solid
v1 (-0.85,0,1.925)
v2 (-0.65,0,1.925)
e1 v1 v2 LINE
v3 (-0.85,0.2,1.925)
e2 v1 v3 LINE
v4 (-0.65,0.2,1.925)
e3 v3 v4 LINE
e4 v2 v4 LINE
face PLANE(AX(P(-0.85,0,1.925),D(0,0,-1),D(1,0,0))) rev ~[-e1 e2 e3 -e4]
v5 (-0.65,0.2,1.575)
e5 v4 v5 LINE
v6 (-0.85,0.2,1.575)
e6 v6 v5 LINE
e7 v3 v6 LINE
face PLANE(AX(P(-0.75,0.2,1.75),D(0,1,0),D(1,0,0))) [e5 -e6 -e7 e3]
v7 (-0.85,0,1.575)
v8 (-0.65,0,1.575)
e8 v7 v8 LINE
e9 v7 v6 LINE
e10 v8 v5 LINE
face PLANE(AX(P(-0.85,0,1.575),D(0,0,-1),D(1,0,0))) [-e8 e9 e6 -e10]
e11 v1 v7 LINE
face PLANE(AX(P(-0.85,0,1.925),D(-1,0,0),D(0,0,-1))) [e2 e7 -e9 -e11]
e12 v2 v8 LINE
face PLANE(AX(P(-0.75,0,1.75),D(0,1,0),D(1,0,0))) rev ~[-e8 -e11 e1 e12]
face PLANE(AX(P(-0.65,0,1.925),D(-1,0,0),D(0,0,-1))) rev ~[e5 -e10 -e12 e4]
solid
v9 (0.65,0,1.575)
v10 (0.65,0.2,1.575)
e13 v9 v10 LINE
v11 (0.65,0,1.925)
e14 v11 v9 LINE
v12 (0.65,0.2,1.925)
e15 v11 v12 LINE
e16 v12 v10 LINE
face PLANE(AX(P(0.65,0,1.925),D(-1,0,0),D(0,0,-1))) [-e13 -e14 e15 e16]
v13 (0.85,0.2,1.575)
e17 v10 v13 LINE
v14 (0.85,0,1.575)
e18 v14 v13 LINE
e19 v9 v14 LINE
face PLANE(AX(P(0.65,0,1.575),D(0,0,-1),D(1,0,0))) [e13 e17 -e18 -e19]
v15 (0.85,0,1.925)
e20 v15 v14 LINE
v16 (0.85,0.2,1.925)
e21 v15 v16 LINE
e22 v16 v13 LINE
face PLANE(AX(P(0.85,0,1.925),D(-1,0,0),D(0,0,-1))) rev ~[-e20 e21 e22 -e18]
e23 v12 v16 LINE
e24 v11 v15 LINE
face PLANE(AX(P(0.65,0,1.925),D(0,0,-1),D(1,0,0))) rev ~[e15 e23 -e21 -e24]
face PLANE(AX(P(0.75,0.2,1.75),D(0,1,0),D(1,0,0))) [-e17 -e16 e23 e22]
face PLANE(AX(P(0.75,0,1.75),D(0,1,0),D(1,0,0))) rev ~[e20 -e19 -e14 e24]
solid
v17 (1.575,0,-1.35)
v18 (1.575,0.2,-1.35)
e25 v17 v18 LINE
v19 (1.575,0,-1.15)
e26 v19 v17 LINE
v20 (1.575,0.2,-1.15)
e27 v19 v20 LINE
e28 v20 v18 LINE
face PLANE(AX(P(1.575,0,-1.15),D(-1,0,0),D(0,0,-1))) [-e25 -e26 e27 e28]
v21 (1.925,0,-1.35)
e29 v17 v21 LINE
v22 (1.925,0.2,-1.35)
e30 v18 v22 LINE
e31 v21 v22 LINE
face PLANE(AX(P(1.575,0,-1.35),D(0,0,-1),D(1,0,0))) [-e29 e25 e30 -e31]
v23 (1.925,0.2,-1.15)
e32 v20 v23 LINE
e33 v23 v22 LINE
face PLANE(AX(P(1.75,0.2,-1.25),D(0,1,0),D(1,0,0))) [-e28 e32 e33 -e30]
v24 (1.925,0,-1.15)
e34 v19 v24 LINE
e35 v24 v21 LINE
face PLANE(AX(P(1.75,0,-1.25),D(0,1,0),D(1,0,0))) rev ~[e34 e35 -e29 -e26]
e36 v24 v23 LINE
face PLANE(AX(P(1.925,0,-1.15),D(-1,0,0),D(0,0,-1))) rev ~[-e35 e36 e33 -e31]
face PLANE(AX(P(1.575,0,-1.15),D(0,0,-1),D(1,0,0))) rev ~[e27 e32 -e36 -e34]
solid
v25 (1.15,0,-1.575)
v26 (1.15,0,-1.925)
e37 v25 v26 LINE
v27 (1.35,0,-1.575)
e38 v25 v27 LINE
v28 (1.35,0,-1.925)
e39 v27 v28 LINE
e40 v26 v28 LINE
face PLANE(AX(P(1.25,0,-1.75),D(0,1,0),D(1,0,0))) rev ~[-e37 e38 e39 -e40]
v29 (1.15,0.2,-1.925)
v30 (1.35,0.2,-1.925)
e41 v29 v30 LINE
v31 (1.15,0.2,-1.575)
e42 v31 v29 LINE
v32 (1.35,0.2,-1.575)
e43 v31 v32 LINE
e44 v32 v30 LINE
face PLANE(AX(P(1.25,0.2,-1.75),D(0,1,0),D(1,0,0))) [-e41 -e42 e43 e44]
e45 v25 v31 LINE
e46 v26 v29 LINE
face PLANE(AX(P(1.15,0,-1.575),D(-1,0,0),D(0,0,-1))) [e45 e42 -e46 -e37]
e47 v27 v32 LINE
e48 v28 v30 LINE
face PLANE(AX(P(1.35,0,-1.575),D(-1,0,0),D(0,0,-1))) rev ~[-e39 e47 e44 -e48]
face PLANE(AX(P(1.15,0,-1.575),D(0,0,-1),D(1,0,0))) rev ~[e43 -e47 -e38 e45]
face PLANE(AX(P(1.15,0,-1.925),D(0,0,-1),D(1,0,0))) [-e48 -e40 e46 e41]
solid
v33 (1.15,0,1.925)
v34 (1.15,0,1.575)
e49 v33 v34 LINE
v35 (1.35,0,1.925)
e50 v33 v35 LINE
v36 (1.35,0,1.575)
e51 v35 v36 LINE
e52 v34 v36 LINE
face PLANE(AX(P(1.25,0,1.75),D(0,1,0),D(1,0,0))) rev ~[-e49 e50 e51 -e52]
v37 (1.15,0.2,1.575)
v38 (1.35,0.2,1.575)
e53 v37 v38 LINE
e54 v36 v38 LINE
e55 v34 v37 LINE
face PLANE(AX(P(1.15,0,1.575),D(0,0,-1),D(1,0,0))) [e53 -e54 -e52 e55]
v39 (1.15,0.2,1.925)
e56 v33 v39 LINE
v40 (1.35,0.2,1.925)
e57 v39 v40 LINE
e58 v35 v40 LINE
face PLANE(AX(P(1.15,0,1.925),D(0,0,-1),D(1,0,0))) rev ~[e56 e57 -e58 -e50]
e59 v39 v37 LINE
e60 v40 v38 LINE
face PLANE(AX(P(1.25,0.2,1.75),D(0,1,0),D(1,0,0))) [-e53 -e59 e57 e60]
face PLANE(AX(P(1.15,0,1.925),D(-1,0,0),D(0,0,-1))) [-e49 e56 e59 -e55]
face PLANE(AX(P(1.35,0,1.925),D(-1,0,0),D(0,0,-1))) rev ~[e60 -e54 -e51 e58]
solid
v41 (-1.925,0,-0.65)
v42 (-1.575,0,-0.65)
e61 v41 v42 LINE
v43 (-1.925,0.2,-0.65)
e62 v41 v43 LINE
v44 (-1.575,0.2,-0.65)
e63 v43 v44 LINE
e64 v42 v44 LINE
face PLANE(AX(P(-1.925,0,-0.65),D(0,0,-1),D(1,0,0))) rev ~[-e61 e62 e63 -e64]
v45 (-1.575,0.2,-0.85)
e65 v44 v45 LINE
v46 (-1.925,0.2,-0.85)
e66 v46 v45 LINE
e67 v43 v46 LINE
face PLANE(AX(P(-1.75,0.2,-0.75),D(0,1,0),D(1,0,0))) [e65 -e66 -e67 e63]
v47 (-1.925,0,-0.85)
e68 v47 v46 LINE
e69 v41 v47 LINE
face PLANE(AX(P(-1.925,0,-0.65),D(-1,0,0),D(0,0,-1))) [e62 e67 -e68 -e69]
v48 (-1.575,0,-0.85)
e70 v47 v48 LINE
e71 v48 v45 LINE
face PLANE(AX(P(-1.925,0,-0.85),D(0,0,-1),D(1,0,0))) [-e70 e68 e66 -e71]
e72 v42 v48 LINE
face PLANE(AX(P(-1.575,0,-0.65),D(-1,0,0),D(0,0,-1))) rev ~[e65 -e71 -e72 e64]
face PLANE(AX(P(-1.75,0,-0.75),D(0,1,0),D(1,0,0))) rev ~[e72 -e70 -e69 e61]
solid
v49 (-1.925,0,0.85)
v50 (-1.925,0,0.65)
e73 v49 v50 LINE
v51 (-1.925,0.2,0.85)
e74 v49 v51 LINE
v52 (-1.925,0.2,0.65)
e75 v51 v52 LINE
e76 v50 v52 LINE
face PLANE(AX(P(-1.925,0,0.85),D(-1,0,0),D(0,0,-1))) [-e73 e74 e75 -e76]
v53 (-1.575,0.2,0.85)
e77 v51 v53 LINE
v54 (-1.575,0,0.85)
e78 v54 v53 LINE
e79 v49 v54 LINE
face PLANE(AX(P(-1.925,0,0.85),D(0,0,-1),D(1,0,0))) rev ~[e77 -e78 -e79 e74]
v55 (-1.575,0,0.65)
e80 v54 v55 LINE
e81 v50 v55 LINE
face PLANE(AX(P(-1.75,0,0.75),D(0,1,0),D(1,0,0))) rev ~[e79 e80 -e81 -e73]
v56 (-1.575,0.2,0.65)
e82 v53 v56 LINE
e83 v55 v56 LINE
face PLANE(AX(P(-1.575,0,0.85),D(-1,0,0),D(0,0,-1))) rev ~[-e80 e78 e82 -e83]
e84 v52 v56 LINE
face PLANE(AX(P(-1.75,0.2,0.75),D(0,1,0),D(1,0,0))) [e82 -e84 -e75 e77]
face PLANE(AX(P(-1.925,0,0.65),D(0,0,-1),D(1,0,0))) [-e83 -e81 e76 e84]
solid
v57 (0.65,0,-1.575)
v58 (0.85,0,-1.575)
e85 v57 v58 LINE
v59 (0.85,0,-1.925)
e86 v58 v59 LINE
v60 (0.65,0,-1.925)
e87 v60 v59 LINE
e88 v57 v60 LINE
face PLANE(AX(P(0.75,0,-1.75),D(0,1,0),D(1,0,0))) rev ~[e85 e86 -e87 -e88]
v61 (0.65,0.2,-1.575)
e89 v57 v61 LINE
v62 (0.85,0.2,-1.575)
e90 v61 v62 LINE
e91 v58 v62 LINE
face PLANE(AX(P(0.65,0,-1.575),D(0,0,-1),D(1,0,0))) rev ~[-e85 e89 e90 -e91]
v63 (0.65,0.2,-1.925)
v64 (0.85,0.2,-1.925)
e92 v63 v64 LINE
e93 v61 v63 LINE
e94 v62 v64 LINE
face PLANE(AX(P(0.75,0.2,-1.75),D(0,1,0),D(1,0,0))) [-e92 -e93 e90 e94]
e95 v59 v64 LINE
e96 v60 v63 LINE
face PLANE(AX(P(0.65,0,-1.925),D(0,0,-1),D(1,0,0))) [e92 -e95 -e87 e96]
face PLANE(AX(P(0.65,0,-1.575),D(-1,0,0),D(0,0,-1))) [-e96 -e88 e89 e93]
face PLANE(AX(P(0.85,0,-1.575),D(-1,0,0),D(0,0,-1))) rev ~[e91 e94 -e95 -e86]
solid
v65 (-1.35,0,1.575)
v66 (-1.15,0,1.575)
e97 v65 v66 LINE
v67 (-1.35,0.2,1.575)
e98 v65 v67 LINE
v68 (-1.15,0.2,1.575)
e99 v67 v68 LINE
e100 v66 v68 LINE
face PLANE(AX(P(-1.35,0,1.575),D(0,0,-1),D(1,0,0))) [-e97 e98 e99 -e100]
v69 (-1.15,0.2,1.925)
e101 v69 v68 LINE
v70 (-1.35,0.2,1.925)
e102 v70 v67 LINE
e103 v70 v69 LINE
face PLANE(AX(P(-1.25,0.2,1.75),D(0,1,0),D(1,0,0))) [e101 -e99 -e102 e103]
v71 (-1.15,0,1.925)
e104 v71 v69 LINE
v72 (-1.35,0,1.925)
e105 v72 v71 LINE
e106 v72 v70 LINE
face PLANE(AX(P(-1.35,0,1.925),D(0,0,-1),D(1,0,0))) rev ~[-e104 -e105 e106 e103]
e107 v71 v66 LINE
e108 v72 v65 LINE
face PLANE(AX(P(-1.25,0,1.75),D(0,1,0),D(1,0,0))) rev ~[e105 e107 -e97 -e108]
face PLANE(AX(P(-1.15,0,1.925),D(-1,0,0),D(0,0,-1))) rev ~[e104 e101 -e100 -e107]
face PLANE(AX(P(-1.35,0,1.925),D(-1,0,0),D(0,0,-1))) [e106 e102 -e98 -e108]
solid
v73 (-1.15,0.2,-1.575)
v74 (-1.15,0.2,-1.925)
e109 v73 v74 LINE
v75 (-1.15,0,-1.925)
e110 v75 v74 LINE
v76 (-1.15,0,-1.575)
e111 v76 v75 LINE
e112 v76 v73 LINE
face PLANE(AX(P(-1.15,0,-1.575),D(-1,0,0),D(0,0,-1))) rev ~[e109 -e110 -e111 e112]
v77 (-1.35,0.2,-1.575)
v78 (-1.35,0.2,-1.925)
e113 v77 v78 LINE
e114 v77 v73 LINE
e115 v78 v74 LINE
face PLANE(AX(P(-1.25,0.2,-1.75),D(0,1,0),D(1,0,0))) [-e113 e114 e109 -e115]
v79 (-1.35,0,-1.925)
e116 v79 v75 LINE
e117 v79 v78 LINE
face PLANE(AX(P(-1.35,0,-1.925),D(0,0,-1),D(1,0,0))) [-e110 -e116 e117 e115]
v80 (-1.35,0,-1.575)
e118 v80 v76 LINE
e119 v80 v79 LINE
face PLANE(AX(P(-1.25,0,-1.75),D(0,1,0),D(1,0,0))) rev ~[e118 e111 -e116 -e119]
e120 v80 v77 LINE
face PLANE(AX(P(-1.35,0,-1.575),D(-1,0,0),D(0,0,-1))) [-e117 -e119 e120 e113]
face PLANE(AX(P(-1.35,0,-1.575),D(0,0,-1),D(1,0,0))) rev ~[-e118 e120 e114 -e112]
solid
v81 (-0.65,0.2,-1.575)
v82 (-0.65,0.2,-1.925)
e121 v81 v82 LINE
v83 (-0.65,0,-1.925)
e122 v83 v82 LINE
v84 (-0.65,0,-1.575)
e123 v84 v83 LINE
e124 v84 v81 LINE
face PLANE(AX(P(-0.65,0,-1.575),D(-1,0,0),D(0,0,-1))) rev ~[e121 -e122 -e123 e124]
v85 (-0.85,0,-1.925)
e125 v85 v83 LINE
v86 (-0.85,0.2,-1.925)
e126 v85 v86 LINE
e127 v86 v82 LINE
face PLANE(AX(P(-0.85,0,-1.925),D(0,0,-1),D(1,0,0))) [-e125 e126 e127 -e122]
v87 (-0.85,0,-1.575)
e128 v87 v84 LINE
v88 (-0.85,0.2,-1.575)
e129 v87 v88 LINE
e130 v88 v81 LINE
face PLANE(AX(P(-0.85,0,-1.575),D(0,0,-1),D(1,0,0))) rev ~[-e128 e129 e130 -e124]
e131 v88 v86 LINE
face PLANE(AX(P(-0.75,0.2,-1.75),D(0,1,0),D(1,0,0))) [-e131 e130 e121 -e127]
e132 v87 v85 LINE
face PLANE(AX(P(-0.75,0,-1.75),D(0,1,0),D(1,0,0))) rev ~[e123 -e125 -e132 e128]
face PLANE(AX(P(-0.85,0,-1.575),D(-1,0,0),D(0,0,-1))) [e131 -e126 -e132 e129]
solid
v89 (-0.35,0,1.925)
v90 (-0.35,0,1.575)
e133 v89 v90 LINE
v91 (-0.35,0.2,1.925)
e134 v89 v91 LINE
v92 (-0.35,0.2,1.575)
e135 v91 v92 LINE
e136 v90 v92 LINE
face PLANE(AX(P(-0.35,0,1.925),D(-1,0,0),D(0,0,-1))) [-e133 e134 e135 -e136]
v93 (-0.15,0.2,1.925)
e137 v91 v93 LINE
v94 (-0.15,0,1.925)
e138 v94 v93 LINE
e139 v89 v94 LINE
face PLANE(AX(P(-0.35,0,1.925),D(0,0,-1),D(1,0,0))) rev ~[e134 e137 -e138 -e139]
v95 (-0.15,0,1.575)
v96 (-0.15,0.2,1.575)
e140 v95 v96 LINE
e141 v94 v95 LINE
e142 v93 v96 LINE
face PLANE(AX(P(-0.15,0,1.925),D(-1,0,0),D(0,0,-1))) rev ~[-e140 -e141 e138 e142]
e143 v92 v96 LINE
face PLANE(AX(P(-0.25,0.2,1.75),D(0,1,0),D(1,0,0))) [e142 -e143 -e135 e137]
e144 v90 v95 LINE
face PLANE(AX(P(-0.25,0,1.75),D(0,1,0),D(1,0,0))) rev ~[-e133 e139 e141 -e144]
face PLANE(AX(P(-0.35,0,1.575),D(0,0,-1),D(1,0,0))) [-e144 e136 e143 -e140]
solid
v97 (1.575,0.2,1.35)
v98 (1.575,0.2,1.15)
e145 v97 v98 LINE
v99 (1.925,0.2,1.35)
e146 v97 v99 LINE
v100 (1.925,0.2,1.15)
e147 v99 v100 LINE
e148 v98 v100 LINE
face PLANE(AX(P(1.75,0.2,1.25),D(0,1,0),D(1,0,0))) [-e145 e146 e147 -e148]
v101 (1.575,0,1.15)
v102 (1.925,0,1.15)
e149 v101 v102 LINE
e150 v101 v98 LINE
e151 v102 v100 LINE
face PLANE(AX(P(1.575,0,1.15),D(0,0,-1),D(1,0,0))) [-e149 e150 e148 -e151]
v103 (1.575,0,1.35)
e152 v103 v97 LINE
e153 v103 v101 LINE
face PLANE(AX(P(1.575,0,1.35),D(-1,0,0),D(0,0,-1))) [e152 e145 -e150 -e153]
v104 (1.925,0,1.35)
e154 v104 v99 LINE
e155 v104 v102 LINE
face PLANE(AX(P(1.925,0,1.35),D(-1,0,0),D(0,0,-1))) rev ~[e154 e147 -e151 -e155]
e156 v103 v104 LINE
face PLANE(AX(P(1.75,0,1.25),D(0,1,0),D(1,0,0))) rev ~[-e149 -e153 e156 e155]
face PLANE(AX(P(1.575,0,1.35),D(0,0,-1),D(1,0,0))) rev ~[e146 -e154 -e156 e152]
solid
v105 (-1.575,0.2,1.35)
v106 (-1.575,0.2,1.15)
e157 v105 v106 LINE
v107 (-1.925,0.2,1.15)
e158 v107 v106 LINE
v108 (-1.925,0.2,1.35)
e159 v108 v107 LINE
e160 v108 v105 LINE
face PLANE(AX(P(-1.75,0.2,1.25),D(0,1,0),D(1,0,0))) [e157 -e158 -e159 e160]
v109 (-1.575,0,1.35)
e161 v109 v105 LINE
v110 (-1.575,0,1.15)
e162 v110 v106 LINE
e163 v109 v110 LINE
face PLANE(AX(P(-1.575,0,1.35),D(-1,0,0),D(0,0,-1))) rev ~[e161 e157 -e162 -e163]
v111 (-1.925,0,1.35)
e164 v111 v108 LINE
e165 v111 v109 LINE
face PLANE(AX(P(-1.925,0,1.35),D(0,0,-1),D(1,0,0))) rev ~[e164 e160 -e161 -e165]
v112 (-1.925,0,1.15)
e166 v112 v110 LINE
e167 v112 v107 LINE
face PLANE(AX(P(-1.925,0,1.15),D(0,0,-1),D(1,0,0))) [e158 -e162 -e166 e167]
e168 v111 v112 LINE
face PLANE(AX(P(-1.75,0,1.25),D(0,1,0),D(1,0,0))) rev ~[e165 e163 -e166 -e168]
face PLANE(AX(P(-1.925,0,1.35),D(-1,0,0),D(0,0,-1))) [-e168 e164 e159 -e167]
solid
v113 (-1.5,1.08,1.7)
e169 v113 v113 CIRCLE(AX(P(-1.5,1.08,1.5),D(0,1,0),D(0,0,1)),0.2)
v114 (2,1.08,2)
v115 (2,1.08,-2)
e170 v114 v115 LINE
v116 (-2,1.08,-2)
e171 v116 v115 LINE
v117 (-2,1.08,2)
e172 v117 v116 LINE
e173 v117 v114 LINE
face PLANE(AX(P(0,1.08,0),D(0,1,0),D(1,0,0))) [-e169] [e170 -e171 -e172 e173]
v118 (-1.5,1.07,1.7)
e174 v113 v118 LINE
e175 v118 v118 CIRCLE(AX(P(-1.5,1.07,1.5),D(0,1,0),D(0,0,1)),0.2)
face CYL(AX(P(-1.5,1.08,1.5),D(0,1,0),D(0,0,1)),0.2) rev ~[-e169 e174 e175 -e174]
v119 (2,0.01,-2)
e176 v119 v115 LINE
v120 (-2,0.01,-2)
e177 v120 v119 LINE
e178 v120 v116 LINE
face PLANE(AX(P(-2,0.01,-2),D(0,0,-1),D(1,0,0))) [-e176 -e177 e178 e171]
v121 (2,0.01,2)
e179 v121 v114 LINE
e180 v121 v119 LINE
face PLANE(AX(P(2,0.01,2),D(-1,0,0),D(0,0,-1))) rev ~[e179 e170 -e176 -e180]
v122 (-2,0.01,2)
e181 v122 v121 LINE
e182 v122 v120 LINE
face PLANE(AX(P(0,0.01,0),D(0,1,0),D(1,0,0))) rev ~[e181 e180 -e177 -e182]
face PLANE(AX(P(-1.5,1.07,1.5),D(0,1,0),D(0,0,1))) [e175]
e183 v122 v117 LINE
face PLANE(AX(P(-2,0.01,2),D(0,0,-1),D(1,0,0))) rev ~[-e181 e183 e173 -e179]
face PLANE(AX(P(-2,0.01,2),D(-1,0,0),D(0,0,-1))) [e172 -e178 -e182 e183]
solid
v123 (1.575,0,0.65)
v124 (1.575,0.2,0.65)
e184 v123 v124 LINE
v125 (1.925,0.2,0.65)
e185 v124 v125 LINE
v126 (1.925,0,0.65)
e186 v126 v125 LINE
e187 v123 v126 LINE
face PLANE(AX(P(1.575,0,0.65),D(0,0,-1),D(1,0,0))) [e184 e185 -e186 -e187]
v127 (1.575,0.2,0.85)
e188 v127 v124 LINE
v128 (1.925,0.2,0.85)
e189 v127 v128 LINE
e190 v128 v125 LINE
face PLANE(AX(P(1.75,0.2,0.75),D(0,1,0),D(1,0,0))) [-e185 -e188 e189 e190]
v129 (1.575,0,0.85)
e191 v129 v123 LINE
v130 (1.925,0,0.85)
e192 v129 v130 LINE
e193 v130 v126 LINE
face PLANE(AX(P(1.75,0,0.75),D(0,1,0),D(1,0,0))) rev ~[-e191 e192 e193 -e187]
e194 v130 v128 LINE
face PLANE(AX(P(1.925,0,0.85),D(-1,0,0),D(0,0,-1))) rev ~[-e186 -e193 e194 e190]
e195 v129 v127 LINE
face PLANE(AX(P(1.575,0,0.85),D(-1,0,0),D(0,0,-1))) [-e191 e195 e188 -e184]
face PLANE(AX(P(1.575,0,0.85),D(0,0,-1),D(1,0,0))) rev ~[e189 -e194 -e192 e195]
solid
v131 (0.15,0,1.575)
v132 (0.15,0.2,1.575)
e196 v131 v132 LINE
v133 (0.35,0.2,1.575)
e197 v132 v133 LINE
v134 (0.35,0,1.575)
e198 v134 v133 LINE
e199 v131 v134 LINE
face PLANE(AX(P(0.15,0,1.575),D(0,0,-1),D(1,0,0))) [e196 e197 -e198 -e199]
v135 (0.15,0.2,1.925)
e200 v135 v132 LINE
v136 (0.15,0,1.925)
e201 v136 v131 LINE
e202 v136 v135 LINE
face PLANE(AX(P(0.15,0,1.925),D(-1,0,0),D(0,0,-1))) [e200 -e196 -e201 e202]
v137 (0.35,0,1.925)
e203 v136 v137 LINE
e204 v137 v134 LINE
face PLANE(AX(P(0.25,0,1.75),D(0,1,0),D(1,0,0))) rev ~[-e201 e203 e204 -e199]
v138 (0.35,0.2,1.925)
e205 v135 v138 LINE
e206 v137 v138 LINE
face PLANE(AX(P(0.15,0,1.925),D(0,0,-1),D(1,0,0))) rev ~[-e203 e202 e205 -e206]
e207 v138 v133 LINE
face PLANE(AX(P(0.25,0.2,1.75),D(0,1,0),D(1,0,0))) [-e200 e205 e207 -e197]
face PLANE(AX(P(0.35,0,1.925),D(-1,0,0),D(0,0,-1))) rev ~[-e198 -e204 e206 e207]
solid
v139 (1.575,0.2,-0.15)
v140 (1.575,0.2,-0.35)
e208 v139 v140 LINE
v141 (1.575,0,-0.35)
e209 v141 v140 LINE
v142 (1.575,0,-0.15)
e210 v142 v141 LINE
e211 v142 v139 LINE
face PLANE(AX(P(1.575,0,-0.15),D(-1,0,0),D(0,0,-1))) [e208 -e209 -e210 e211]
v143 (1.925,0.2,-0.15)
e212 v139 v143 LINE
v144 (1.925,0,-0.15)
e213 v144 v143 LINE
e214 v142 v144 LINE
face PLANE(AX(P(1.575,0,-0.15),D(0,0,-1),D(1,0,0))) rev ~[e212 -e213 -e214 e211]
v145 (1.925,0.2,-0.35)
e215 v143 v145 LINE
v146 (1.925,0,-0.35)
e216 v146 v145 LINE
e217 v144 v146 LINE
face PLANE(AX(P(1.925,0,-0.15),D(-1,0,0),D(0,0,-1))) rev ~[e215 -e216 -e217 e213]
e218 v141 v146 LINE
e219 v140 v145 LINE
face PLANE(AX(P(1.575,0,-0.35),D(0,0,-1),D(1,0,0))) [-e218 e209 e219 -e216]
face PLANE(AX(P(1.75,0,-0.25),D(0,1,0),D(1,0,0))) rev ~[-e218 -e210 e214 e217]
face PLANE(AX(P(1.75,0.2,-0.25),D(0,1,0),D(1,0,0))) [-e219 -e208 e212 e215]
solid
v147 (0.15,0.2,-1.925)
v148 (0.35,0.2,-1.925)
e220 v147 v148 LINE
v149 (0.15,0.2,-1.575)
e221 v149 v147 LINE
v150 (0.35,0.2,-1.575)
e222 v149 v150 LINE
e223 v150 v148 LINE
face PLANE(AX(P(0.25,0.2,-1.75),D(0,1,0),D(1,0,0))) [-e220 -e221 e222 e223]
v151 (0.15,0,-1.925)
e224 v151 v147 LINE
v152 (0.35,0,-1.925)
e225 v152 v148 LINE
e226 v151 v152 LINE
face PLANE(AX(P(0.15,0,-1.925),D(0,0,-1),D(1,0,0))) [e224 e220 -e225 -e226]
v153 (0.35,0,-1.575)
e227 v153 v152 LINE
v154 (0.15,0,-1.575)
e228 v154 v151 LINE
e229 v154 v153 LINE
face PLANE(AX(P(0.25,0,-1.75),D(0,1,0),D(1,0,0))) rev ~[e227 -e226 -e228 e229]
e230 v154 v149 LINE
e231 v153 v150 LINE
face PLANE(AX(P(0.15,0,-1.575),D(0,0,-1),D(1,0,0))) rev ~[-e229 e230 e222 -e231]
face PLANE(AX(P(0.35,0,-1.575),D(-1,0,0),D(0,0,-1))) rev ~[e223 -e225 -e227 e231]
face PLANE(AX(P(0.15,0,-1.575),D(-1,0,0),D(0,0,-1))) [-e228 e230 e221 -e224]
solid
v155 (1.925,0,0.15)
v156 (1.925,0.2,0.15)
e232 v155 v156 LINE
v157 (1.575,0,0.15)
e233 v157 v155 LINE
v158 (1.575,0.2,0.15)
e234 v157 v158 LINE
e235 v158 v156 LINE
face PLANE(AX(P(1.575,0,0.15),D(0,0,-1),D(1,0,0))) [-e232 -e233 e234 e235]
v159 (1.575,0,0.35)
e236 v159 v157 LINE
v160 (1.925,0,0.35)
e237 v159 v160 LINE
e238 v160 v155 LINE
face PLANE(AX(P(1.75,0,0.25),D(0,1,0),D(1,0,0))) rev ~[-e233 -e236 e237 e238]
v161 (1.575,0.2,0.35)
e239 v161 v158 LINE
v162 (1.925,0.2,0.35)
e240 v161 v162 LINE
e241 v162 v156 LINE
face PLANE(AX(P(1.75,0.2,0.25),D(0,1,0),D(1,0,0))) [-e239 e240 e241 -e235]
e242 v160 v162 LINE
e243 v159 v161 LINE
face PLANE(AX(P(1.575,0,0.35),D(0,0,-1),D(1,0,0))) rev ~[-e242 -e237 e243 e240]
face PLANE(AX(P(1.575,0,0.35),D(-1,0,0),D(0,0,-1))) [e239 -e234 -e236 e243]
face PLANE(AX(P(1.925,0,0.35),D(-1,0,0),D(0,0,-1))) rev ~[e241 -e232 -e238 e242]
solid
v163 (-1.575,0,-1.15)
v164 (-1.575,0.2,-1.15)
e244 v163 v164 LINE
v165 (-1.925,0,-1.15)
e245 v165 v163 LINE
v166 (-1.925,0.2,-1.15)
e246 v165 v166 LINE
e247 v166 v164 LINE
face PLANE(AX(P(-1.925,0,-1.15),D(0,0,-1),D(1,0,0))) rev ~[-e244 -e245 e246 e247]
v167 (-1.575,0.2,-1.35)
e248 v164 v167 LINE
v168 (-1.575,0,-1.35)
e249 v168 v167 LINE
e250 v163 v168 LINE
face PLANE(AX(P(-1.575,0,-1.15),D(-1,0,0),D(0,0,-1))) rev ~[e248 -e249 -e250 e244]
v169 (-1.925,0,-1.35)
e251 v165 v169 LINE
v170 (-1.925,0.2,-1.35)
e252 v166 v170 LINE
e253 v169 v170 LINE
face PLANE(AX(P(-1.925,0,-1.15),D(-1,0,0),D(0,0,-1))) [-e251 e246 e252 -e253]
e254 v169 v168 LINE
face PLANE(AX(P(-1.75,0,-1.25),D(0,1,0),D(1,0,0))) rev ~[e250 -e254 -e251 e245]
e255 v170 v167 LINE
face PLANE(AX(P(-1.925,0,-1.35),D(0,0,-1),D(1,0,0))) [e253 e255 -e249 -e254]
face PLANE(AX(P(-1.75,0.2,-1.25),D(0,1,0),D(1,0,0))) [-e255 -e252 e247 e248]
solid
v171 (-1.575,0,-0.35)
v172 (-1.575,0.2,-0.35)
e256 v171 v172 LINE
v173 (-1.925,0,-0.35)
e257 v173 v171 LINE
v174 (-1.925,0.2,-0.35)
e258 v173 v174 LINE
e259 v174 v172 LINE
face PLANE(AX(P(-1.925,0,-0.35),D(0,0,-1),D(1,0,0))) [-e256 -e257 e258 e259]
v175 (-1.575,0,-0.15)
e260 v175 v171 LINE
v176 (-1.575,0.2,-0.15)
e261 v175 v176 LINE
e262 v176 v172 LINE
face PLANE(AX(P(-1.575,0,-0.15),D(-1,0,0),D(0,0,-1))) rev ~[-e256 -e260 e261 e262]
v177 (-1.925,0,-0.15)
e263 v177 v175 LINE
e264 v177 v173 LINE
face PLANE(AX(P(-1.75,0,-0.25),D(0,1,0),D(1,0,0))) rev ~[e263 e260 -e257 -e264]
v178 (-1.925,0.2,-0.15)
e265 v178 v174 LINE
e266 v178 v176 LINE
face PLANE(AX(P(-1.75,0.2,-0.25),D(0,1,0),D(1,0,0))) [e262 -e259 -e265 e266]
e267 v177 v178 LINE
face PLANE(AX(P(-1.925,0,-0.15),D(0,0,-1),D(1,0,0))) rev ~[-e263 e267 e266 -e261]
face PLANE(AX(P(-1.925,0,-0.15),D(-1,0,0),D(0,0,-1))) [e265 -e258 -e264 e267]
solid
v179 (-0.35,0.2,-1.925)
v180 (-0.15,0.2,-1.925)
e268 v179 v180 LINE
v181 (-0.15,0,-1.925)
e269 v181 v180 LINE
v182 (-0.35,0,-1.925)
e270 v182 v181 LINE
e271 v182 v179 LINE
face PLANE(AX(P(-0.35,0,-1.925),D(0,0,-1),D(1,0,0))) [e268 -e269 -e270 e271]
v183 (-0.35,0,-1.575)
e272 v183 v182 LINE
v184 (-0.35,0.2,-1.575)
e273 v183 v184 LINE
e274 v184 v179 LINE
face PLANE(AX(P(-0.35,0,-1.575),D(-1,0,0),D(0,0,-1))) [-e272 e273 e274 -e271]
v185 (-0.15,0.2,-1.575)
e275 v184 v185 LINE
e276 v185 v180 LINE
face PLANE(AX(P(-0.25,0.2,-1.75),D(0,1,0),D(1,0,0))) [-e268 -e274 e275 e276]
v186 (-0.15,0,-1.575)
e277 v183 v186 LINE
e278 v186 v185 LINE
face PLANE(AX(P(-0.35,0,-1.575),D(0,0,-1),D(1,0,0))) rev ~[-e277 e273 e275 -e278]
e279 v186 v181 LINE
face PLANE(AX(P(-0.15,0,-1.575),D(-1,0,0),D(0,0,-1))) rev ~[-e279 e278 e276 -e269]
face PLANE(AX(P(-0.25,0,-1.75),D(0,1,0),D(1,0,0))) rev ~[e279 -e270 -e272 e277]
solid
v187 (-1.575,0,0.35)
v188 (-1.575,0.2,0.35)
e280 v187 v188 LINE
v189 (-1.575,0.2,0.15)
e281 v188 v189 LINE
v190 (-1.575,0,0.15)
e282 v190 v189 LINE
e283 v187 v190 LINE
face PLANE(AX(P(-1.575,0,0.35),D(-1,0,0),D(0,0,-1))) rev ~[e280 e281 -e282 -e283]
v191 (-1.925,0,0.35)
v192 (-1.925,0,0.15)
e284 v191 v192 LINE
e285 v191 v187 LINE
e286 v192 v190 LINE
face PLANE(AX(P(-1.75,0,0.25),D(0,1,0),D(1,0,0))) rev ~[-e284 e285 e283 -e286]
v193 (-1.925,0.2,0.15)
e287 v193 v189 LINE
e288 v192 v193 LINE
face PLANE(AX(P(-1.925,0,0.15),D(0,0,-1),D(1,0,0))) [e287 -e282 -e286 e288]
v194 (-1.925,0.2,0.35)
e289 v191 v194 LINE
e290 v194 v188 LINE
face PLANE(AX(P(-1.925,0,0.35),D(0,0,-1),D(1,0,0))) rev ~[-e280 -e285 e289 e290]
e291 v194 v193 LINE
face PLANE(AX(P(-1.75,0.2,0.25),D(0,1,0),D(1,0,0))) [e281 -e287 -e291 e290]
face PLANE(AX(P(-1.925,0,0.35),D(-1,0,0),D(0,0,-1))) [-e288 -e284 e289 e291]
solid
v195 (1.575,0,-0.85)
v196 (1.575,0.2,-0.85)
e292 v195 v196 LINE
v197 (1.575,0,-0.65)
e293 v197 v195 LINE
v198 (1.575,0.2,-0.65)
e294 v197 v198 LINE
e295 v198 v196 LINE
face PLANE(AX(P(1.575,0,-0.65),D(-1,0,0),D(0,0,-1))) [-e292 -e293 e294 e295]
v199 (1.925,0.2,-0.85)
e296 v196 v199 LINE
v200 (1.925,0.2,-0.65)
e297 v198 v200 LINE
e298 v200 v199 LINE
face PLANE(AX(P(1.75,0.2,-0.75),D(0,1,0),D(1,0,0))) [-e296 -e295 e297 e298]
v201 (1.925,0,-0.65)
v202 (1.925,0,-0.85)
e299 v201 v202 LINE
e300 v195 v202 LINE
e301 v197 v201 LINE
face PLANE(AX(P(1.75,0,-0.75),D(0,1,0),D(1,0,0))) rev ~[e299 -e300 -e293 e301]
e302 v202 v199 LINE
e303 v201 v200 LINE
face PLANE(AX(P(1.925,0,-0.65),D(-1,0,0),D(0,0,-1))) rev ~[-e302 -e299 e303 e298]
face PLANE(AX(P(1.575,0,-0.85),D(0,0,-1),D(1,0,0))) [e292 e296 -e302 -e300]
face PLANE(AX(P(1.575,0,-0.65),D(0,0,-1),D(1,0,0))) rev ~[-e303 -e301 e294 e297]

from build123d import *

# Parameters (mm, degrees)
SKETCH1_W              = 0.35
SKETCH1_H              = 0.2
BOSS_EXTRUDE1_DEPTH    = 0.2
BOSS_EXTRUDE1_2_DEPTH  = 0.2
BOSS_EXTRUDE1_3_DEPTH  = 0.2
SKETCH1_W_2            = 0.2
SKETCH1_H_2            = 0.35
BOSS_EXTRUDE1_4_DEPTH  = 0.2
BOSS_EXTRUDE1_5_DEPTH  = 0.2
BOSS_EXTRUDE1_6_DEPTH  = 0.2
BOSS_EXTRUDE1_7_DEPTH  = 0.2
BOSS_EXTRUDE1_8_DEPTH  = 0.2
BOSS_EXTRUDE1_9_DEPTH  = 0.2
BOSS_EXTRUDE1_10_DEPTH = 0.2
BOSS_EXTRUDE1_11_DEPTH = 0.2
BOSS_EXTRUDE1_12_DEPTH = 0.2
BOSS_EXTRUDE1_13_DEPTH = 0.2
BOSS_EXTRUDE1_14_DEPTH = 0.2
BOSS_EXTRUDE1_15_DEPTH = 0.2
BOSS_EXTRUDE1_16_DEPTH = 0.2
BOSS_EXTRUDE1_17_DEPTH = 0.2
BOSS_EXTRUDE1_18_DEPTH = 0.2
BOSS_EXTRUDE1_19_DEPTH = 0.2
BOSS_EXTRUDE1_20_DEPTH = 0.2
BOSS_EXTRUDE1_21_DEPTH = 0.2
BOSS_EXTRUDE1_22_DEPTH = 0.2
BOSS_EXTRUDE1_23_DEPTH = 0.2
BOSS_EXTRUDE1_24_DEPTH = 0.2
BOSS_EXTRUDE2_START    = 0.01
SKETCH2_W              = 4
SKETCH2_H              = 4
BOSS_EXTRUDE2_DEPTH    = 1.07
SKETCH3_R              = 0.2
CUT_EXTRUDE2_DEPTH     = 0.01


with BuildPart() as part:
    # Sketch1 → Boss-Extrude1 (new body)
    with BuildSketch(Plane(origin=(0, 0, 0), x_dir=(1, 0, 0), z_dir=(0, 1, 0))):
        with Locations((-1.75, 0.75)):
            Rectangle(SKETCH1_W, SKETCH1_H)
    extrude(amount=BOSS_EXTRUDE1_DEPTH)


with BuildPart() as body_2:
    # Sketch1 → Boss-Extrude1 2 (new body)
    with BuildSketch(Plane(origin=(0, 0, 0), x_dir=(1, 0, 0), z_dir=(0, 1, 0))):
        with Locations((-1.75, 1.25)):
            Rectangle(SKETCH1_W, SKETCH1_H)
    extrude(amount=BOSS_EXTRUDE1_2_DEPTH)


with BuildPart() as body_3:
    # Sketch1 → Boss-Extrude1 3 (new body)
    with BuildSketch(Plane(origin=(0, 0, 0), x_dir=(1, 0, 0), z_dir=(0, 1, 0))):
        with Locations((-1.75, 0.25)):
            Rectangle(SKETCH1_W, SKETCH1_H)
    extrude(amount=BOSS_EXTRUDE1_3_DEPTH)


with BuildPart() as body_4:
    # Sketch1 → Boss-Extrude1 4 (new body)
    with BuildSketch(Plane(origin=(0, 0, 0), x_dir=(1, 0, 0), z_dir=(0, 1, 0))):
        with Locations((-0.75, 1.75)):
            Rectangle(SKETCH1_W_2, SKETCH1_H_2)
    extrude(amount=BOSS_EXTRUDE1_4_DEPTH)


with BuildPart() as body_5:
    # Sketch1 → Boss-Extrude1 5 (new body)
    with BuildSketch(Plane(origin=(0, 0, 0), x_dir=(1, 0, 0), z_dir=(0, 1, 0))):
        with Locations((-1.25, 1.75)):
            Rectangle(SKETCH1_W_2, SKETCH1_H_2)
    extrude(amount=BOSS_EXTRUDE1_5_DEPTH)


with BuildPart() as body_6:
    # Sketch1 → Boss-Extrude1 6 (new body)
    with BuildSketch(Plane(origin=(0, 0, 0), x_dir=(1, 0, 0), z_dir=(0, 1, 0))):
        with Locations((-0.25, 1.75)):
            Rectangle(SKETCH1_W_2, SKETCH1_H_2)
    extrude(amount=BOSS_EXTRUDE1_6_DEPTH)


with BuildPart() as body_7:
    # Sketch1 → Boss-Extrude1 7 (new body)
    with BuildSketch(Plane(origin=(0, 0, 0), x_dir=(1, 0, 0), z_dir=(0, 1, 0))):
        with Locations((0.25, 1.75)):
            Rectangle(SKETCH1_W_2, SKETCH1_H_2)
    extrude(amount=BOSS_EXTRUDE1_7_DEPTH)


with BuildPart() as body_8:
    # Sketch1 → Boss-Extrude1 8 (new body)
    with BuildSketch(Plane(origin=(0, 0, 0), x_dir=(1, 0, 0), z_dir=(0, 1, 0))):
        with Locations((0.75, 1.75)):
            Rectangle(SKETCH1_W_2, SKETCH1_H_2)
    extrude(amount=BOSS_EXTRUDE1_8_DEPTH)


with BuildPart() as body_9:
    # Sketch1 → Boss-Extrude1 9 (new body)
    with BuildSketch(Plane(origin=(0, 0, 0), x_dir=(1, 0, 0), z_dir=(0, 1, 0))):
        with Locations((1.25, 1.75)):
            Rectangle(SKETCH1_W_2, SKETCH1_H_2)
    extrude(amount=BOSS_EXTRUDE1_9_DEPTH)


with BuildPart() as body_10:
    # Sketch1 → Boss-Extrude1 10 (new body)
    with BuildSketch(Plane(origin=(0, 0, 0), x_dir=(1, 0, 0), z_dir=(0, 1, 0))):
        with Locations((1.75, 0.25)):
            Rectangle(SKETCH1_W, SKETCH1_H)
    extrude(amount=BOSS_EXTRUDE1_10_DEPTH)


with BuildPart() as body_11:
    # Sketch1 → Boss-Extrude1 11 (new body)
    with BuildSketch(Plane(origin=(0, 0, 0), x_dir=(1, 0, 0), z_dir=(0, 1, 0))):
        with Locations((1.75, 0.75)):
            Rectangle(SKETCH1_W, SKETCH1_H)
    extrude(amount=BOSS_EXTRUDE1_11_DEPTH)


with BuildPart() as body_12:
    # Sketch1 → Boss-Extrude1 12 (new body)
    with BuildSketch(Plane(origin=(0, 0, 0), x_dir=(1, 0, 0), z_dir=(0, 1, 0))):
        with Locations((1.75, 1.25)):
            Rectangle(SKETCH1_W, SKETCH1_H)
    extrude(amount=BOSS_EXTRUDE1_12_DEPTH)


with BuildPart() as body_13:
    # Sketch1 → Boss-Extrude1 13 (new body)
    with BuildSketch(Plane(origin=(0, 0, 0), x_dir=(1, 0, 0), z_dir=(0, 1, 0))):
        with Locations((1.75, -0.75)):
            Rectangle(SKETCH1_W, SKETCH1_H)
    extrude(amount=BOSS_EXTRUDE1_13_DEPTH)


with BuildPart() as body_14:
    # Sketch1 → Boss-Extrude1 14 (new body)
    with BuildSketch(Plane(origin=(0, 0, 0), x_dir=(1, 0, 0), z_dir=(0, 1, 0))):
        with Locations((1.75, -1.25)):
            Rectangle(SKETCH1_W, SKETCH1_H)
    extrude(amount=BOSS_EXTRUDE1_14_DEPTH)


with BuildPart() as body_15:
    # Sketch1 → Boss-Extrude1 15 (new body)
    with BuildSketch(Plane(origin=(0, 0, 0), x_dir=(1, 0, 0), z_dir=(0, 1, 0))):
        with Locations((1.75, -0.25)):
            Rectangle(SKETCH1_W, SKETCH1_H)
    extrude(amount=BOSS_EXTRUDE1_15_DEPTH)


with BuildPart() as body_16:
    # Sketch1 → Boss-Extrude1 16 (new body)
    with BuildSketch(Plane(origin=(0, 0, 0), x_dir=(1, 0, 0), z_dir=(0, 1, 0))):
        with Locations((0.75, -1.75)):
            Rectangle(SKETCH1_W_2, SKETCH1_H_2)
    extrude(amount=BOSS_EXTRUDE1_16_DEPTH)


with BuildPart() as body_17:
    # Sketch1 → Boss-Extrude1 17 (new body)
    with BuildSketch(Plane(origin=(0, 0, 0), x_dir=(1, 0, 0), z_dir=(0, 1, 0))):
        with Locations((1.25, -1.75)):
            Rectangle(SKETCH1_W_2, SKETCH1_H_2)
    extrude(amount=BOSS_EXTRUDE1_17_DEPTH)


with BuildPart() as body_18:
    # Sketch1 → Boss-Extrude1 18 (new body)
    with BuildSketch(Plane(origin=(0, 0, 0), x_dir=(1, 0, 0), z_dir=(0, 1, 0))):
        with Locations((0.25, -1.75)):
            Rectangle(SKETCH1_W_2, SKETCH1_H_2)
    extrude(amount=BOSS_EXTRUDE1_18_DEPTH)


with BuildPart() as body_19:
    # Sketch1 → Boss-Extrude1 19 (new body)
    with BuildSketch(Plane(origin=(0, 0, 0), x_dir=(1, 0, 0), z_dir=(0, 1, 0))):
        with Locations((-0.25, -1.75)):
            Rectangle(SKETCH1_W_2, SKETCH1_H_2)
    extrude(amount=BOSS_EXTRUDE1_19_DEPTH)


with BuildPart() as body_20:
    # Sketch1 → Boss-Extrude1 20 (new body)
    with BuildSketch(Plane(origin=(0, 0, 0), x_dir=(1, 0, 0), z_dir=(0, 1, 0))):
        with Locations((-0.75, -1.75)):
            Rectangle(SKETCH1_W_2, SKETCH1_H_2)
    extrude(amount=BOSS_EXTRUDE1_20_DEPTH)


with BuildPart() as body_21:
    # Sketch1 → Boss-Extrude1 21 (new body)
    with BuildSketch(Plane(origin=(0, 0, 0), x_dir=(1, 0, 0), z_dir=(0, 1, 0))):
        with Locations((-1.25, -1.75)):
            Rectangle(SKETCH1_W_2, SKETCH1_H_2)
    extrude(amount=BOSS_EXTRUDE1_21_DEPTH)


with BuildPart() as body_22:
    # Sketch1 → Boss-Extrude1 22 (new body)
    with BuildSketch(Plane(origin=(0, 0, 0), x_dir=(1, 0, 0), z_dir=(0, 1, 0))):
        with Locations((-1.75, -0.25)):
            Rectangle(SKETCH1_W, SKETCH1_H)
    extrude(amount=BOSS_EXTRUDE1_22_DEPTH)


with BuildPart() as body_23:
    # Sketch1 → Boss-Extrude1 23 (new body)
    with BuildSketch(Plane(origin=(0, 0, 0), x_dir=(1, 0, 0), z_dir=(0, 1, 0))):
        with Locations((-1.75, -0.75)):
            Rectangle(SKETCH1_W, SKETCH1_H)
    extrude(amount=BOSS_EXTRUDE1_23_DEPTH)


with BuildPart() as body_24:
    # Sketch1 → Boss-Extrude1 24 (new body)
    with BuildSketch(Plane(origin=(0, 0, 0), x_dir=(1, 0, 0), z_dir=(0, 1, 0))):
        with Locations((-1.75, -1.25)):
            Rectangle(SKETCH1_W, SKETCH1_H)
    extrude(amount=BOSS_EXTRUDE1_24_DEPTH)


with BuildPart() as body_25:
    # Sketch2 → Boss-Extrude2 (new body)
    with BuildSketch(Plane(origin=(0, 0, 0), x_dir=(1, 0, 0), z_dir=(0, 1, 0)).offset(BOSS_EXTRUDE2_START)):
        Rectangle(SKETCH2_W, SKETCH2_H)
    extrude(amount=BOSS_EXTRUDE2_DEPTH)

    # Sketch3 → Cut-Extrude2 (cut)
    with BuildSketch(Plane(origin=(0, 1.08, 0), x_dir=(1, 0, 0), z_dir=(0, 1, 0))):
        with Locations(Location((-1.5, -1.5, 0), (0, 0, 270))):
            Circle(SKETCH3_R)
    extrude(amount=-CUT_EXTRUDE2_DEPTH, mode=Mode.SUBTRACT)


solid = Compound([part.part, body_2.part, body_3.part, body_4.part, body_5.part, body_6.part, body_7.part, body_8.part, body_9.part, body_10.part, body_11.part, body_12.part, body_13.part, body_14.part, body_15.part, body_16.part, body_17.part, body_18.part, body_19.part, body_20.part, body_21.part, body_22.part, body_23.part, body_24.part, body_25.part])
